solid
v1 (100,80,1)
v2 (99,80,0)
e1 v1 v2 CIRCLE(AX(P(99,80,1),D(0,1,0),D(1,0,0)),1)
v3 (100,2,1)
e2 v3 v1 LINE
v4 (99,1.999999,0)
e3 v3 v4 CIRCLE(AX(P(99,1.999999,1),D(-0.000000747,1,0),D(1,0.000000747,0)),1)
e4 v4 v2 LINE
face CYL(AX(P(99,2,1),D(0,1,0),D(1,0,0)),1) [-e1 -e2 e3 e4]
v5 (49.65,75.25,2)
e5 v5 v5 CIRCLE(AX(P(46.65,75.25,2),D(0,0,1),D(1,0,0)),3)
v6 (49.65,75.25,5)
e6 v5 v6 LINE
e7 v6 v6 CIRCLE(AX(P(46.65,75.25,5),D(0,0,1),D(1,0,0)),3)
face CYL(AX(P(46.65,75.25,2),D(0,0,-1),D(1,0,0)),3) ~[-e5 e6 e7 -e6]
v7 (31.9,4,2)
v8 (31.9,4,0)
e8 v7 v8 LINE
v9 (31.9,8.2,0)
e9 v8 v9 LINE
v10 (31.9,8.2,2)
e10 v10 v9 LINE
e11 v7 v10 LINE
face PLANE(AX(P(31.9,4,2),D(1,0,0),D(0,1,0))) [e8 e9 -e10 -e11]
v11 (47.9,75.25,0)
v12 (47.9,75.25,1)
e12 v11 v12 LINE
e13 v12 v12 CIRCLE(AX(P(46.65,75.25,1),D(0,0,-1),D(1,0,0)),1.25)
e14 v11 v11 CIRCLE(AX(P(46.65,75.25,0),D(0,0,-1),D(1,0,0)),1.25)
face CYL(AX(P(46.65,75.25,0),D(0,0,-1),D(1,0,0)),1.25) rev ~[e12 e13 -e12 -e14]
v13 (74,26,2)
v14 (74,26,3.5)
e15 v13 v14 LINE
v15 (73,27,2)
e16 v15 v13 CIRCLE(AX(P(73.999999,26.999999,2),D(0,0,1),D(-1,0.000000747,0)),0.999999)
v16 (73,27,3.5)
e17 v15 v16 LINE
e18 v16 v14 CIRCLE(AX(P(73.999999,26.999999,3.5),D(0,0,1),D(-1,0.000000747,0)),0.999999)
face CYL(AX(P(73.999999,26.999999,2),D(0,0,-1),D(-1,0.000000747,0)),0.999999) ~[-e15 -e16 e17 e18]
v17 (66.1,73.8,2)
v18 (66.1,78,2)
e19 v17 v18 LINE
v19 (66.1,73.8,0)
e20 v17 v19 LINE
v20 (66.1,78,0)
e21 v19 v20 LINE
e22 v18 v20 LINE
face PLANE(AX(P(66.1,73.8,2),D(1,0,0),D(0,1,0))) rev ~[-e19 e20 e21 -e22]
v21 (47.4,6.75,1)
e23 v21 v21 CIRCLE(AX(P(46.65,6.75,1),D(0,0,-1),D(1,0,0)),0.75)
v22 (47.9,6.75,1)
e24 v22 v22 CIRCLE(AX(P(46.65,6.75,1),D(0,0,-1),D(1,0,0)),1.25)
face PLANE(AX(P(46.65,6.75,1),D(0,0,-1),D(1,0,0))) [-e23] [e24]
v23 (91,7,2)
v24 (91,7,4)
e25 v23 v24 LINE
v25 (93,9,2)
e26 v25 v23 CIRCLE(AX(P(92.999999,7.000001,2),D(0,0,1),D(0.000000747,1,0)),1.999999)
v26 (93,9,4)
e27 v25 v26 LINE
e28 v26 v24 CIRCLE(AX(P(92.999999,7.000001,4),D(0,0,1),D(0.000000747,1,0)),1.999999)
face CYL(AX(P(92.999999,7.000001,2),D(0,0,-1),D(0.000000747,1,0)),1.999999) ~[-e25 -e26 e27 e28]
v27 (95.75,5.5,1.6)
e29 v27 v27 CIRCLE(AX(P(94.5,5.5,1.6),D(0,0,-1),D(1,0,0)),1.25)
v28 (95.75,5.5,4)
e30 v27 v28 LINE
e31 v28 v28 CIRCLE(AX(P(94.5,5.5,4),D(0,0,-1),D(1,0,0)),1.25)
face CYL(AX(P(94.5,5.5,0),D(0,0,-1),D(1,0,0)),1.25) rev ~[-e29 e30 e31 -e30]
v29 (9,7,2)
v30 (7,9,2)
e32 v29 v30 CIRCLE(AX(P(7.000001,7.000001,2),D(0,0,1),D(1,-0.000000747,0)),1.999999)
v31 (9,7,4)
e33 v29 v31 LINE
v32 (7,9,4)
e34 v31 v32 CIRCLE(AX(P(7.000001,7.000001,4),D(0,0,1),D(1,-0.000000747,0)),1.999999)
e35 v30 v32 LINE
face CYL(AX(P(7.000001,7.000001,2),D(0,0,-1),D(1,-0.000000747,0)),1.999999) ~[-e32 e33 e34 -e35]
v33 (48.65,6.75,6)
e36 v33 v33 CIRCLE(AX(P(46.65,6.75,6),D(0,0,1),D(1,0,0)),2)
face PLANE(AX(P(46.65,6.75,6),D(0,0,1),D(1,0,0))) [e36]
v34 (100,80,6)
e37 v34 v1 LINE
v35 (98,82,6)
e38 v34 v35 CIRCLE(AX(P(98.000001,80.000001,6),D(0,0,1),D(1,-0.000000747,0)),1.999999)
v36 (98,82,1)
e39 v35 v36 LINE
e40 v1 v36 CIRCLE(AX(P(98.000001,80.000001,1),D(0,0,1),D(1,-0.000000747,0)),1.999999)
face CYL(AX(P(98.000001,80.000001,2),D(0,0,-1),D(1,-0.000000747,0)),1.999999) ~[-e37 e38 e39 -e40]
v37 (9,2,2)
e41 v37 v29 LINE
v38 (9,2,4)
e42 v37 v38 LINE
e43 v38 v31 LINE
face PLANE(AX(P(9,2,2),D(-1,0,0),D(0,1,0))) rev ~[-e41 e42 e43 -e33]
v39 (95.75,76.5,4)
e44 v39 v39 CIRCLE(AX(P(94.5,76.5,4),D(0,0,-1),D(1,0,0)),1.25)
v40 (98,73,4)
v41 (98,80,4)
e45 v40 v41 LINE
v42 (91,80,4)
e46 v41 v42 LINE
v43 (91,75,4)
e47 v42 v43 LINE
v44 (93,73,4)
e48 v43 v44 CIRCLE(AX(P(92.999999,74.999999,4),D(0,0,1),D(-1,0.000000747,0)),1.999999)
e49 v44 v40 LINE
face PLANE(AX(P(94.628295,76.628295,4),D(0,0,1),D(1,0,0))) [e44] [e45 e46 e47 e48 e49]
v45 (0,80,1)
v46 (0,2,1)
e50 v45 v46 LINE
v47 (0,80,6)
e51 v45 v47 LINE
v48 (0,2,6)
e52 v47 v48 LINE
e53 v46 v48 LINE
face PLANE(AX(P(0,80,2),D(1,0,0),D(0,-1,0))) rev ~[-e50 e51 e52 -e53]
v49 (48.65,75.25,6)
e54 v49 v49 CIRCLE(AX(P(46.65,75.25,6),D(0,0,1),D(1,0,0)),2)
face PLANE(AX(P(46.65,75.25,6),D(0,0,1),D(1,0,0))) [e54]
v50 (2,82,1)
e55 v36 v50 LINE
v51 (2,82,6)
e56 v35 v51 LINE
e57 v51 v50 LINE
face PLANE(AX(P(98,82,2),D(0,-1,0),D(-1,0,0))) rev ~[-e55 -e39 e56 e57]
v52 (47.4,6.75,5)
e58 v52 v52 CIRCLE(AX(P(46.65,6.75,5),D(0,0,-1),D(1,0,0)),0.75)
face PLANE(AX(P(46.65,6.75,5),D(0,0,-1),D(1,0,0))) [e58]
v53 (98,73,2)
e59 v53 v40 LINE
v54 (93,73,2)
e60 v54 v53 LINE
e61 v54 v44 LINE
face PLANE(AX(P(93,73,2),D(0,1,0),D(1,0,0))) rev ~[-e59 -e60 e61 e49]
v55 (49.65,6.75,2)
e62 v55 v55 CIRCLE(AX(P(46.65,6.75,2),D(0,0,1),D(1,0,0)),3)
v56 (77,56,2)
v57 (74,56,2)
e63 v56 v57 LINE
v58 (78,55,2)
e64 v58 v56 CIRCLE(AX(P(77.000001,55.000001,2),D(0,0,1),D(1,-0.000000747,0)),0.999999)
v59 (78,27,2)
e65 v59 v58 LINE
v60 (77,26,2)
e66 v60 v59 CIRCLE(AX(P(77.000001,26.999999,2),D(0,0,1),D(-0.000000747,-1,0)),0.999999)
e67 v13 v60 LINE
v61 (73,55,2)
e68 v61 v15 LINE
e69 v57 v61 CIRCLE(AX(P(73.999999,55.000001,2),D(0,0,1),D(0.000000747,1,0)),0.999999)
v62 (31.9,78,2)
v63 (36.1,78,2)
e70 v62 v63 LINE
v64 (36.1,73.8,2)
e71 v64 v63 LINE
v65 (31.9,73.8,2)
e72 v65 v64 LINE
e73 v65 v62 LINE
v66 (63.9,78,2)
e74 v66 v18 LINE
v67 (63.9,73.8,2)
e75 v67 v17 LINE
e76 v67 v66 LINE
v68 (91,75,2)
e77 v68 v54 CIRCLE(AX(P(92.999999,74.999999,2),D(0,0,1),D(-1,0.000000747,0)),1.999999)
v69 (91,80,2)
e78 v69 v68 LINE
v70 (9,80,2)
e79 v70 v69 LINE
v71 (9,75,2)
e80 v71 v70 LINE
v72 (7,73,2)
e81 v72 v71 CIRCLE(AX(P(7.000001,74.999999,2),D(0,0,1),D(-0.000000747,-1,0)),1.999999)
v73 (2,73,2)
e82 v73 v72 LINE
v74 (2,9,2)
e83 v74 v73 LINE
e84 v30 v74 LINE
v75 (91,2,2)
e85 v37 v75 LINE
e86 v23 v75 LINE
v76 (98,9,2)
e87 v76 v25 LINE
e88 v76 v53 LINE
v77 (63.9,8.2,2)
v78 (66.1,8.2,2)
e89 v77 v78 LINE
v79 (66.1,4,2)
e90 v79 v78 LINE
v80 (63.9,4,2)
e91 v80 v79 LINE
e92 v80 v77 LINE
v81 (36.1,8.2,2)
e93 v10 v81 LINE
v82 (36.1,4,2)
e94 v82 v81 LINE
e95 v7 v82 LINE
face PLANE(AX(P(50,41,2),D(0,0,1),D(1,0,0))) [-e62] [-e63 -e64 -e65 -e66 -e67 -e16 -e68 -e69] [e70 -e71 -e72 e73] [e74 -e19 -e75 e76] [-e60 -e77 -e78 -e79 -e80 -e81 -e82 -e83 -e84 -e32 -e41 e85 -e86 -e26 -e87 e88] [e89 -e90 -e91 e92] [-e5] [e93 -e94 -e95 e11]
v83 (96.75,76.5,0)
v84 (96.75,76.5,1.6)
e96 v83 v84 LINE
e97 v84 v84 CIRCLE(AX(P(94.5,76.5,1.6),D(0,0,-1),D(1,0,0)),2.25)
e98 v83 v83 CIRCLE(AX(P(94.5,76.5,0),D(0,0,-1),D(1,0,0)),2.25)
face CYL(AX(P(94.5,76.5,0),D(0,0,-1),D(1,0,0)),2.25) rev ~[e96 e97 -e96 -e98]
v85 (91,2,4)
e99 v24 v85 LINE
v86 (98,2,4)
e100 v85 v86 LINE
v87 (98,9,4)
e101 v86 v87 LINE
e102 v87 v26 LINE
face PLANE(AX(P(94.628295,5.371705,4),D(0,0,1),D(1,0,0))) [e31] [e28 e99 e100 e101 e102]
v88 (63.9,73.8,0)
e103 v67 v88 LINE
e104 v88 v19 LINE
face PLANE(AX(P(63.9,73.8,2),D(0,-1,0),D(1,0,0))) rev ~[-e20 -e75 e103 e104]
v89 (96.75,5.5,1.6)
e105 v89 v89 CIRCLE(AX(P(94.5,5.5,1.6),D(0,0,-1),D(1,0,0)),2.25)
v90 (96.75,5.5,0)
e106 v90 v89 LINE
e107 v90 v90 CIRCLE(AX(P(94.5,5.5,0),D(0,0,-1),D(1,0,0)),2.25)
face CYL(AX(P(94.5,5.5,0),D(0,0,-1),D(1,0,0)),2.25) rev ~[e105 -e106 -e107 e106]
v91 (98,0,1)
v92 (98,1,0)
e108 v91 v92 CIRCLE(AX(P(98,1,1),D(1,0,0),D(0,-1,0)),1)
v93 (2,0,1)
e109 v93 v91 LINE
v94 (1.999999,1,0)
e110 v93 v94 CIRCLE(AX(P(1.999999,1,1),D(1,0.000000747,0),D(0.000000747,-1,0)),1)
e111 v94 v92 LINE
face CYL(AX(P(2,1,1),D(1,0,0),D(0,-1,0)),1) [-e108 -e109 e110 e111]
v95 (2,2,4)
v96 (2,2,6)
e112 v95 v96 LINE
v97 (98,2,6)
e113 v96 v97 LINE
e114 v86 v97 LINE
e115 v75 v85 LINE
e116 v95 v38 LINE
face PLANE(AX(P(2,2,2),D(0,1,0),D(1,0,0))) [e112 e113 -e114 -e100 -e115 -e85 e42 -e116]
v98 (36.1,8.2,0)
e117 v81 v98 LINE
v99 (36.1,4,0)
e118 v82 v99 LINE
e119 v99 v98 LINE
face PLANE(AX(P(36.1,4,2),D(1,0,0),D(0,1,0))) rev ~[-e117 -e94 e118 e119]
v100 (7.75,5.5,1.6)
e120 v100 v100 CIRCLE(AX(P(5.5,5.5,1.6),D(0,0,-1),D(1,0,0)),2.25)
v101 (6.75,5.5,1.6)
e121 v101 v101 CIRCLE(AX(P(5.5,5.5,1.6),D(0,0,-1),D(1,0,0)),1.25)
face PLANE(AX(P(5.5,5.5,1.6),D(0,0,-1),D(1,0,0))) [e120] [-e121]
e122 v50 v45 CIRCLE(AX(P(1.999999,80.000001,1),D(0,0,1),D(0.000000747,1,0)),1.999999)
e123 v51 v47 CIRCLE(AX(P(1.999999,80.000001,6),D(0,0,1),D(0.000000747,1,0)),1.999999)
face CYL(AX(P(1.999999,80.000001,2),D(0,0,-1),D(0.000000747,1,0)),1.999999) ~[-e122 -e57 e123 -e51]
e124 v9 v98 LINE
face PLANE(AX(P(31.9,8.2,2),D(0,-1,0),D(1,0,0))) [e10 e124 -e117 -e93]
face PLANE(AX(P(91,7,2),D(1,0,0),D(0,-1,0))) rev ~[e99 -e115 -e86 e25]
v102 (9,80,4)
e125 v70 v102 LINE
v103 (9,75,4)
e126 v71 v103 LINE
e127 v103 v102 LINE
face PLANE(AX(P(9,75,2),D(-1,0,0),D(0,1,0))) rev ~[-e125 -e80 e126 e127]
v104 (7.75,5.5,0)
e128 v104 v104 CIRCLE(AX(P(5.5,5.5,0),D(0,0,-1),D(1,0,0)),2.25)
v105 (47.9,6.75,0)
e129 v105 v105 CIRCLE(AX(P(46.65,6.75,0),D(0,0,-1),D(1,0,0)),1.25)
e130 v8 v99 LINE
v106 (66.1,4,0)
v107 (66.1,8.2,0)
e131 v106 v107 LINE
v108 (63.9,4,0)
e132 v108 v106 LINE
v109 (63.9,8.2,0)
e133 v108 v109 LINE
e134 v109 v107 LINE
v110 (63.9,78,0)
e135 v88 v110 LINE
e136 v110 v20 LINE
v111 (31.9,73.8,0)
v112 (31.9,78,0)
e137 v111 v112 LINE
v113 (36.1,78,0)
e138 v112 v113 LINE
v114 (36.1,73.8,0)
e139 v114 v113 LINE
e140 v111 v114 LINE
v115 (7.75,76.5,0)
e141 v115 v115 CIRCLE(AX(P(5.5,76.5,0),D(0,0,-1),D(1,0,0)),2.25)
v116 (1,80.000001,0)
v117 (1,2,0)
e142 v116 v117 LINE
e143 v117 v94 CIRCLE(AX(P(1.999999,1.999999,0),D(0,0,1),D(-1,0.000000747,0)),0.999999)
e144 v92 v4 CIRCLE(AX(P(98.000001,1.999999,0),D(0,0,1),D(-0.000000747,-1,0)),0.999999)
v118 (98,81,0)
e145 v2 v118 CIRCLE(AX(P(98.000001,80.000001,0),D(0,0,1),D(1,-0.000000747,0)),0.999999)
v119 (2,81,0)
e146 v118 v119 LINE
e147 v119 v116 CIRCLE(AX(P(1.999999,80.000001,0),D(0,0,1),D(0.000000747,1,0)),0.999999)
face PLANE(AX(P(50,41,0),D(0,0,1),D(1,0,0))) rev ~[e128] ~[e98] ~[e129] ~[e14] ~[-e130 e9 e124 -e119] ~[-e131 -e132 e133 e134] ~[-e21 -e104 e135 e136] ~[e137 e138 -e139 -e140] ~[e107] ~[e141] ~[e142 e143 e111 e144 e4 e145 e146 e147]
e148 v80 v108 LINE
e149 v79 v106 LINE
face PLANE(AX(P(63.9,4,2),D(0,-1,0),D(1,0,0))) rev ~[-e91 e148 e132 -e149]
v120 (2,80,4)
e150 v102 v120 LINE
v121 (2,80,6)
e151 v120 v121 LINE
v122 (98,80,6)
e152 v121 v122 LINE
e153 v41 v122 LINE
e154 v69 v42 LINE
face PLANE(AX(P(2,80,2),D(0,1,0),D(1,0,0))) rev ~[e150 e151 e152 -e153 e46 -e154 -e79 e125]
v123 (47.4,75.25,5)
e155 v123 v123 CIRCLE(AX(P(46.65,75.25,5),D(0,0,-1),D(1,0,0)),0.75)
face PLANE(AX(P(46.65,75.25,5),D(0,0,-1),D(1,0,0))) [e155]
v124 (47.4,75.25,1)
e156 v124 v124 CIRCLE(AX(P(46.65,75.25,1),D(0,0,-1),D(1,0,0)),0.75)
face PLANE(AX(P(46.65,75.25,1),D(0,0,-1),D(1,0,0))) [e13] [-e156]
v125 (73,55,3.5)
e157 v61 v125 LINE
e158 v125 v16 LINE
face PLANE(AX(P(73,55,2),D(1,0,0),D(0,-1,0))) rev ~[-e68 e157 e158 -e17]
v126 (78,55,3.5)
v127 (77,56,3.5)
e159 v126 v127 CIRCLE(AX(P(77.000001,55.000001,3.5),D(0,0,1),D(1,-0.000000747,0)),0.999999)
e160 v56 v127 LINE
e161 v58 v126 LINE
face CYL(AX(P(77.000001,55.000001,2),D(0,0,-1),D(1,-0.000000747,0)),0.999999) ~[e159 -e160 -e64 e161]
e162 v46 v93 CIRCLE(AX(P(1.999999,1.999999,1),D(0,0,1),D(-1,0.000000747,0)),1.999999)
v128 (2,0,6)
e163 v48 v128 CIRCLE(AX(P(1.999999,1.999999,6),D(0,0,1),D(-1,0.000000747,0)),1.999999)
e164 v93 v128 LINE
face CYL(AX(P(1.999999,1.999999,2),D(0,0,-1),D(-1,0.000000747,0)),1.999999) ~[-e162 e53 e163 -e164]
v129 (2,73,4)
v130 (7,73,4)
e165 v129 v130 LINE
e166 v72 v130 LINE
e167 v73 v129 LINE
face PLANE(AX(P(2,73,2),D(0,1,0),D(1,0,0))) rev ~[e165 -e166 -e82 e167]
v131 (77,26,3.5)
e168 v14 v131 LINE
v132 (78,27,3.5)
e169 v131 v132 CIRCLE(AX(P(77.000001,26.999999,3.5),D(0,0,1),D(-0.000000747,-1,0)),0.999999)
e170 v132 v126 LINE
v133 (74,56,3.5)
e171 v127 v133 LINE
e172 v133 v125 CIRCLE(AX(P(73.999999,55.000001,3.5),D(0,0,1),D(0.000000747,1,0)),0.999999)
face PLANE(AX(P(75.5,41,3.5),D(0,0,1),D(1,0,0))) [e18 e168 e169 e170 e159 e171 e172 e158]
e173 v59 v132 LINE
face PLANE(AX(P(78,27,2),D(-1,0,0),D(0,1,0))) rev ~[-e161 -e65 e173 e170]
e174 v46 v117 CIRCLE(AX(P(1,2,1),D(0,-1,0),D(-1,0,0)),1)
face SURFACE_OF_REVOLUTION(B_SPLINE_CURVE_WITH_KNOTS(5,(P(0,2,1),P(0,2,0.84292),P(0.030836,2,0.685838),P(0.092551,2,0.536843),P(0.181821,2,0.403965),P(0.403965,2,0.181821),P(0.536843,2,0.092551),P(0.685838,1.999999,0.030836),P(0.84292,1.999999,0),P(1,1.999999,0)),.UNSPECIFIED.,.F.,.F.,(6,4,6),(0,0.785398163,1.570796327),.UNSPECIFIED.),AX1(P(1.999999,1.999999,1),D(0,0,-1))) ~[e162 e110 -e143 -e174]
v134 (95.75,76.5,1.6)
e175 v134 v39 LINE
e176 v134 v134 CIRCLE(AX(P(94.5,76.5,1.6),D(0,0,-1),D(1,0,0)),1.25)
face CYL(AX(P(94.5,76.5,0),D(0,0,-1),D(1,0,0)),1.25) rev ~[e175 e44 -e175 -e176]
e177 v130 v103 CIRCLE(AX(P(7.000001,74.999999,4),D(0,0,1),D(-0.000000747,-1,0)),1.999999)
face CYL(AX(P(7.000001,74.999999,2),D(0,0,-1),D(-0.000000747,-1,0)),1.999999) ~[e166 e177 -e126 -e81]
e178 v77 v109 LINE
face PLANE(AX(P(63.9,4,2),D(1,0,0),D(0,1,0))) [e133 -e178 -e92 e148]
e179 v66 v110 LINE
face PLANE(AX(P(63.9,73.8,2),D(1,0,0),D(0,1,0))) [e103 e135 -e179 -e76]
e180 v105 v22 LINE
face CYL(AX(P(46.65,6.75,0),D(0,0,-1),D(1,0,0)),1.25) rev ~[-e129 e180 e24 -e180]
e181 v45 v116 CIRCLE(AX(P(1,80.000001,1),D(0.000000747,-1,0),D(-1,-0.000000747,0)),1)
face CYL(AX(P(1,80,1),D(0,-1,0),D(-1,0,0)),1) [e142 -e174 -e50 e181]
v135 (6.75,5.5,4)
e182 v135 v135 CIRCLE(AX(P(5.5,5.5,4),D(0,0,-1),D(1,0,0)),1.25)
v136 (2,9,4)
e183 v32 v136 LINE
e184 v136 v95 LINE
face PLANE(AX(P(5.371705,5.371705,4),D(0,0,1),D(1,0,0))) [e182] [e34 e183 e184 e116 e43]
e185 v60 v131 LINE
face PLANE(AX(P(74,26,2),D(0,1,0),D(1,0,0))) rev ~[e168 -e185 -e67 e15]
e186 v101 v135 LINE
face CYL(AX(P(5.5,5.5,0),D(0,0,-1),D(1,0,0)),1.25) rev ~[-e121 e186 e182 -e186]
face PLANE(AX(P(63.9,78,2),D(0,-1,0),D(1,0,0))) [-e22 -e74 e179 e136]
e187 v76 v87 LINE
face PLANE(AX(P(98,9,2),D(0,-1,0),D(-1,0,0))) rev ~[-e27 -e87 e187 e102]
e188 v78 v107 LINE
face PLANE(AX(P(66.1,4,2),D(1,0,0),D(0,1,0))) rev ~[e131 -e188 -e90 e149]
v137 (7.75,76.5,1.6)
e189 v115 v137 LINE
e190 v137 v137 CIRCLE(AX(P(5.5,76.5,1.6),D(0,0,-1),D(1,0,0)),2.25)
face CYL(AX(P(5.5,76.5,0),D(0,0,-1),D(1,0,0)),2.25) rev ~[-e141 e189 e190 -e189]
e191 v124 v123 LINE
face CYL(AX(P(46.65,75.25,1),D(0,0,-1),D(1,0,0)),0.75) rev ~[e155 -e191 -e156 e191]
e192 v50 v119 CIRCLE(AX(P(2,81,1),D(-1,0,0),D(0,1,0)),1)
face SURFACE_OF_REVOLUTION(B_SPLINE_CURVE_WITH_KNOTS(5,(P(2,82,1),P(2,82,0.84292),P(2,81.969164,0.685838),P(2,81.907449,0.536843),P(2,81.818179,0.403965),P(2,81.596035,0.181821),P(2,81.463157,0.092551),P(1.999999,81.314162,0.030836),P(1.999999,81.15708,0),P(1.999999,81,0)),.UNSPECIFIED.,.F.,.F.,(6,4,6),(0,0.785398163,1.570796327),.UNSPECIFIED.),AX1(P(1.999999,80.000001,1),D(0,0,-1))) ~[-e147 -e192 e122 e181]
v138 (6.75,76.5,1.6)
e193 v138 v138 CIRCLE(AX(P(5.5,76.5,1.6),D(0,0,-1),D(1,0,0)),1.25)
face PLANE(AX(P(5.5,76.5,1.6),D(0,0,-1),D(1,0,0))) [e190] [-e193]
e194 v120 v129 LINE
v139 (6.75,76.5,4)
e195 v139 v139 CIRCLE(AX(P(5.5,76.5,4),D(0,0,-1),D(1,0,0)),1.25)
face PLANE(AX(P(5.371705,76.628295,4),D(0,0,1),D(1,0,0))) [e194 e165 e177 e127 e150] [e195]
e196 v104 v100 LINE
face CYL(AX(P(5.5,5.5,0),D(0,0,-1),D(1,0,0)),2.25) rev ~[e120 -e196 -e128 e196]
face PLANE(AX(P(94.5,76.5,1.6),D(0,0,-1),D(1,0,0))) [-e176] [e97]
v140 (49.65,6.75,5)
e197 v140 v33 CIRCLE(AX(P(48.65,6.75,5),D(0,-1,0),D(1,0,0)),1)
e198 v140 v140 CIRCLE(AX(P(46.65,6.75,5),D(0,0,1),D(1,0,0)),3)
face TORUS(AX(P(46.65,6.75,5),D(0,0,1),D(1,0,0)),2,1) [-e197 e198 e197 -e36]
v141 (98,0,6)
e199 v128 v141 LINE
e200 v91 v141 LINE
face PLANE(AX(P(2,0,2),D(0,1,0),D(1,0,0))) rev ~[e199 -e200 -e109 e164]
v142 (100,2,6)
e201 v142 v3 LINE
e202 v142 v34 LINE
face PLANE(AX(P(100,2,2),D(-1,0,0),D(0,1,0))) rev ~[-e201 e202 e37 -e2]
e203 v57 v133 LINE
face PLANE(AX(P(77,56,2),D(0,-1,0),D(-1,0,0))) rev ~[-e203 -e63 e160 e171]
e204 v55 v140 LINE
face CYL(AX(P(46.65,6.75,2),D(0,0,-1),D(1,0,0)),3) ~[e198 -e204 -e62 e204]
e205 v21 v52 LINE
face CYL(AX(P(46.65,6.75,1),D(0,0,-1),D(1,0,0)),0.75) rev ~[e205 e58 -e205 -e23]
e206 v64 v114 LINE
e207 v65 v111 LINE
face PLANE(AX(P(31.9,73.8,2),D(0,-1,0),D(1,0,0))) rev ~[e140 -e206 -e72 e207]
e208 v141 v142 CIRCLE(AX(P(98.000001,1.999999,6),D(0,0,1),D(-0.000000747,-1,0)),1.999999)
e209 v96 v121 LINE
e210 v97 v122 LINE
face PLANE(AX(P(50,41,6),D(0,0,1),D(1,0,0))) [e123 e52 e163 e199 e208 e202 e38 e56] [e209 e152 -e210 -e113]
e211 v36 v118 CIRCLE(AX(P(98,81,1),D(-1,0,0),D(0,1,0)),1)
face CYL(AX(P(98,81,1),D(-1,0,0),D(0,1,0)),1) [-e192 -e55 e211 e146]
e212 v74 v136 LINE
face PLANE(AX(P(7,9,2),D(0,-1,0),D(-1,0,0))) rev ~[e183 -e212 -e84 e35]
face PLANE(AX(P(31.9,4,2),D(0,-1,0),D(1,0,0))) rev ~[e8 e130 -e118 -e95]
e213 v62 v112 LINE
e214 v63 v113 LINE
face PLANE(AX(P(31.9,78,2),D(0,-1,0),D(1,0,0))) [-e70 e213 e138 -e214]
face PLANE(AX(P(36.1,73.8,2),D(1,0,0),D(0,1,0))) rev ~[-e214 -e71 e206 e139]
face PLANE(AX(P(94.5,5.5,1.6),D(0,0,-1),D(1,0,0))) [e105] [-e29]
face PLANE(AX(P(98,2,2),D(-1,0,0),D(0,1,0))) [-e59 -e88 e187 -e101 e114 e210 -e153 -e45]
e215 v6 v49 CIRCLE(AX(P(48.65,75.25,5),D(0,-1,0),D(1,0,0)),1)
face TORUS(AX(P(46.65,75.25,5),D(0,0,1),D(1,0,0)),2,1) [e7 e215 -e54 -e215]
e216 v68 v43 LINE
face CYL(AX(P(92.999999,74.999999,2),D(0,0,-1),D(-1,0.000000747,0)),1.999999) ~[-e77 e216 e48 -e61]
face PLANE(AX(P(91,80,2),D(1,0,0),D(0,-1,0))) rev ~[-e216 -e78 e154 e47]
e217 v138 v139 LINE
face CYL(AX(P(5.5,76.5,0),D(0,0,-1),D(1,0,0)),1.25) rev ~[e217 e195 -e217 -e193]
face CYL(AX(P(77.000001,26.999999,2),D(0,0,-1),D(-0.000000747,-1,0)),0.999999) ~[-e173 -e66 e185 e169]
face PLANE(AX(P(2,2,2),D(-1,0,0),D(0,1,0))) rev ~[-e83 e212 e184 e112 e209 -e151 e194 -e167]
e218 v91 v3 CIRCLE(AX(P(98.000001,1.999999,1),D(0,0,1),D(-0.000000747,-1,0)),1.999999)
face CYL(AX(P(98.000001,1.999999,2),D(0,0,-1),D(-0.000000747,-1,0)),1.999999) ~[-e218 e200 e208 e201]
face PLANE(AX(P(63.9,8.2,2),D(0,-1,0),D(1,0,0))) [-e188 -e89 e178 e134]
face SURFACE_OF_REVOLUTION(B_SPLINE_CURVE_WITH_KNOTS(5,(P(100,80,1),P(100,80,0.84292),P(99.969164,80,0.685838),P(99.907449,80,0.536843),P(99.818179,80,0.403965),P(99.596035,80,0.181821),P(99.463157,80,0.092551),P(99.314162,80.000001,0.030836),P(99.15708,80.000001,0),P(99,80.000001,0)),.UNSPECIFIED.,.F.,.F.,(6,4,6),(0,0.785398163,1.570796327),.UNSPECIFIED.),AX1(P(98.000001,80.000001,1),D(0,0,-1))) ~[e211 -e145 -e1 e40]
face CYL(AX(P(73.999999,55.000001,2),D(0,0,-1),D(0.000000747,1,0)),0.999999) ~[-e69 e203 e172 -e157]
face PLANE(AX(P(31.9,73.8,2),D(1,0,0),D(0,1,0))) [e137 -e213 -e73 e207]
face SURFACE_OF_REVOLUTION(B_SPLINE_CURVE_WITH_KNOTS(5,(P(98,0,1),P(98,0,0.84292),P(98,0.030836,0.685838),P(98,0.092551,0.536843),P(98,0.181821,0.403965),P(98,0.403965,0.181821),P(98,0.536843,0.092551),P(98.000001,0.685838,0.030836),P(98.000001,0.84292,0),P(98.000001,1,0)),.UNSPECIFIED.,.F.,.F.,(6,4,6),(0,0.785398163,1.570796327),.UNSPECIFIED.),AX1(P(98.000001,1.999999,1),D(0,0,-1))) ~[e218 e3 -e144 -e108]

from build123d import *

# Parameters (mm, degrees)
F1_DEPTH  = 2
F2_W      = 96
F2_H      = 78
F3_DEPTH  = 4
F5_DEPTH  = 2
F6_R      = 1.25
F7_DEPTH  = 6
F8_R      = 2.25
F9_DEPTH  = 1.6
F11_R     = 1
F12_DEPTH = 1.5
F14_R     = 3
F15_DEPTH = 4
F16_R     = 1
F17_R     = 1.25
F18_DEPTH = 1
F19_R     = 0.75
F20_DEPTH = 4
F13_W     = 2.2
F13_H     = 4.2
F13_W_2   = 4.2
F21_W     = 4.2
F21_H     = 4.2
F22_DEPTH = 2


with BuildPart() as f1:
    # F0 (on Top) → F1 (new body)
    with BuildSketch(Plane.XY):
        with BuildLine():
            ThreePointArc((0, 2), (0.585786, 0.585786), (2, 0))
            Line((2, 0), (98, 0))
            ThreePointArc((98, 0), (99.414214, 0.585786), (100, 2))
            Line((100, 2), (100, 80))
            ThreePointArc((100, 80), (99.414214, 81.414214), (98, 82))
            Line((98, 82), (2, 82))
            ThreePointArc((2, 82), (0.585786, 81.414214), (0, 80))
            Line((0, 80), (0, 2))
        make_face()
    extrude(amount=F1_DEPTH)

    # F2 (on face) → F3 (join)
    with BuildSketch(Plane.XY.offset(2)):
        with BuildLine():
            ThreePointArc((2, 82), (0.585786, 81.414214), (0, 80))
            Line((0, 80), (0, 2))
            ThreePointArc((0, 2), (0.585786, 0.585786), (2, 0))
            Line((2, 0), (98, 0))
            ThreePointArc((98, 0), (99.414214, 0.585786), (100, 2))
            Line((100, 2), (100, 80))
            ThreePointArc((100, 80), (99.414214, 81.414214), (98, 82))
            Line((98, 82), (2, 82))
        make_face()
        with Locations((50, 41)):
            Rectangle(F2_W, F2_H, mode=Mode.SUBTRACT)
    extrude(amount=F3_DEPTH)

    # F4 (on face) → F5 (join)
    with BuildSketch(Plane.XY.offset(2)):
        with BuildLine():
            Line((2, 9), (2, 2))
            Line((2, 2), (9, 2))
            Line((9, 2), (9, 7))
            ThreePointArc((9, 7), (8.414214, 8.414214), (7, 9))
            Line((7, 9), (2, 9))
        make_face()
        with BuildLine():
            Line((9, 80), (2, 80))
            Line((2, 80), (2, 73))
            Line((2, 73), (7, 73))
            ThreePointArc((7, 73), (8.414214, 73.585786), (9, 75))
            Line((9, 75), (9, 80))
        make_face()
        with BuildLine():
            Line((91, 2), (98, 2))
            Line((98, 2), (98, 9))
            Line((98, 9), (93, 9))
            ThreePointArc((93, 9), (91.585786, 8.414214), (91, 7))
            Line((91, 7), (91, 2))
        make_face()
        with BuildLine():
            Line((98, 73), (98, 80))
            Line((98, 80), (91, 80))
            Line((91, 80), (91, 75))
            ThreePointArc((91, 75), (91.585786, 73.585786), (93, 73))
            Line((93, 73), (98, 73))
        make_face()
    extrude(amount=F5_DEPTH)

    # F6 (on face) → F7 (cut)
    with BuildSketch(Plane(origin=(0, 0, 0), x_dir=(1, 0, 0), z_dir=(0, 0, -1))):
        with Locations((94.5, -5.5)):
            Circle(F6_R)
        with Locations((94.5, -76.5)):
            Circle(F6_R)
        with Locations((5.5, -76.5)):
            Circle(F6_R)
        with Locations((5.5, -5.5)):
            Circle(F6_R)
    extrude(amount=-F7_DEPTH, mode=Mode.SUBTRACT)

    # F8 (on face) → F9 (cut)
    with BuildSketch(Plane(origin=(0, 0, 0), x_dir=(1, 0, 0), z_dir=(0, 0, -1))):
        with Locations((5.5, -76.5)):
            Circle(F8_R)
        with Locations((5.5, -5.5)):
            Circle(F8_R)
        with Locations((94.5, -5.5)):
            Circle(F8_R)
        with Locations((94.5, -76.5)):
            Circle(F8_R)
    extrude(amount=-F9_DEPTH, mode=Mode.SUBTRACT)

    # F11
    f11_edges = [f1.edges().sort_by_distance(p)[0] for p in [
        (50, 82, 0),
    ]]
    fillet(f11_edges, radius=F11_R)

    # F10 (on face) → F12 (join)
    with BuildSketch(Plane.XY.offset(2)):
        with BuildLine():
            ThreePointArc((73, 27), (73.292893, 26.292893), (74, 26))
            Line((74, 26), (77, 26))
            ThreePointArc((77, 26), (77.707107, 26.292893), (78, 27))
            Line((78, 27), (78, 55))
            ThreePointArc((78, 55), (77.707107, 55.707107), (77, 56))
            Line((77, 56), (74, 56))
            ThreePointArc((74, 56), (73.292893, 55.707107), (73, 55))
            Line((73, 55), (73, 27))
        make_face()
    extrude(amount=F12_DEPTH)

    # F14 (on face) → F15 (join)
    with BuildSketch(Plane.XY.offset(2)):
        with Locations((46.65, 75.25)):
            Circle(F14_R)
        with Locations((46.65, 6.75)):
            Circle(F14_R)
    extrude(amount=F15_DEPTH)

    # F16
    f16_edges = [f1.edges().sort_by_distance(p)[0] for p in [
        (43.65, 75.25, 6),
        (43.65, 6.75, 6),
    ]]
    fillet(f16_edges, radius=F16_R)

    # F17 (on face) → F18 (cut)
    with BuildSketch(Plane(origin=(0, 0, 0), x_dir=(1, 0, 0), z_dir=(0, 0, -1))):
        with Locations((46.65, -75.25)):
            Circle(F17_R)
        with Locations((46.65, -6.75)):
            Circle(F17_R)
    extrude(amount=-F18_DEPTH, mode=Mode.SUBTRACT)

    # F19 (on face) → F20 (cut)
    with BuildSketch(Plane(origin=(0, 0, 1), x_dir=(1, 0, 0), z_dir=(0, 0, -1))):
        with Locations((46.65, -6.75)):
            Circle(F19_R)
        with Locations((46.65, -75.25)):
            Circle(F19_R)
    extrude(amount=-F20_DEPTH, mode=Mode.SUBTRACT)

    # F13 (on face) + F21 (on face) → F22 (cut)
    with BuildSketch(Plane.XY.offset(2)):
        with Locations((65, 75.9)):
            Rectangle(F13_W, F13_H)
        with Locations((65, 6.1)):
            Rectangle(F13_W, F13_H)
        with Locations((34, 6.1)):
            Rectangle(F13_W_2, F13_H)
    with BuildSketch(Plane.XY.offset(2)):
        with Locations((34, 75.9)):
            Rectangle(F21_W, F21_H)
    extrude(amount=-F22_DEPTH, mode=Mode.SUBTRACT)


solid = f1.part
